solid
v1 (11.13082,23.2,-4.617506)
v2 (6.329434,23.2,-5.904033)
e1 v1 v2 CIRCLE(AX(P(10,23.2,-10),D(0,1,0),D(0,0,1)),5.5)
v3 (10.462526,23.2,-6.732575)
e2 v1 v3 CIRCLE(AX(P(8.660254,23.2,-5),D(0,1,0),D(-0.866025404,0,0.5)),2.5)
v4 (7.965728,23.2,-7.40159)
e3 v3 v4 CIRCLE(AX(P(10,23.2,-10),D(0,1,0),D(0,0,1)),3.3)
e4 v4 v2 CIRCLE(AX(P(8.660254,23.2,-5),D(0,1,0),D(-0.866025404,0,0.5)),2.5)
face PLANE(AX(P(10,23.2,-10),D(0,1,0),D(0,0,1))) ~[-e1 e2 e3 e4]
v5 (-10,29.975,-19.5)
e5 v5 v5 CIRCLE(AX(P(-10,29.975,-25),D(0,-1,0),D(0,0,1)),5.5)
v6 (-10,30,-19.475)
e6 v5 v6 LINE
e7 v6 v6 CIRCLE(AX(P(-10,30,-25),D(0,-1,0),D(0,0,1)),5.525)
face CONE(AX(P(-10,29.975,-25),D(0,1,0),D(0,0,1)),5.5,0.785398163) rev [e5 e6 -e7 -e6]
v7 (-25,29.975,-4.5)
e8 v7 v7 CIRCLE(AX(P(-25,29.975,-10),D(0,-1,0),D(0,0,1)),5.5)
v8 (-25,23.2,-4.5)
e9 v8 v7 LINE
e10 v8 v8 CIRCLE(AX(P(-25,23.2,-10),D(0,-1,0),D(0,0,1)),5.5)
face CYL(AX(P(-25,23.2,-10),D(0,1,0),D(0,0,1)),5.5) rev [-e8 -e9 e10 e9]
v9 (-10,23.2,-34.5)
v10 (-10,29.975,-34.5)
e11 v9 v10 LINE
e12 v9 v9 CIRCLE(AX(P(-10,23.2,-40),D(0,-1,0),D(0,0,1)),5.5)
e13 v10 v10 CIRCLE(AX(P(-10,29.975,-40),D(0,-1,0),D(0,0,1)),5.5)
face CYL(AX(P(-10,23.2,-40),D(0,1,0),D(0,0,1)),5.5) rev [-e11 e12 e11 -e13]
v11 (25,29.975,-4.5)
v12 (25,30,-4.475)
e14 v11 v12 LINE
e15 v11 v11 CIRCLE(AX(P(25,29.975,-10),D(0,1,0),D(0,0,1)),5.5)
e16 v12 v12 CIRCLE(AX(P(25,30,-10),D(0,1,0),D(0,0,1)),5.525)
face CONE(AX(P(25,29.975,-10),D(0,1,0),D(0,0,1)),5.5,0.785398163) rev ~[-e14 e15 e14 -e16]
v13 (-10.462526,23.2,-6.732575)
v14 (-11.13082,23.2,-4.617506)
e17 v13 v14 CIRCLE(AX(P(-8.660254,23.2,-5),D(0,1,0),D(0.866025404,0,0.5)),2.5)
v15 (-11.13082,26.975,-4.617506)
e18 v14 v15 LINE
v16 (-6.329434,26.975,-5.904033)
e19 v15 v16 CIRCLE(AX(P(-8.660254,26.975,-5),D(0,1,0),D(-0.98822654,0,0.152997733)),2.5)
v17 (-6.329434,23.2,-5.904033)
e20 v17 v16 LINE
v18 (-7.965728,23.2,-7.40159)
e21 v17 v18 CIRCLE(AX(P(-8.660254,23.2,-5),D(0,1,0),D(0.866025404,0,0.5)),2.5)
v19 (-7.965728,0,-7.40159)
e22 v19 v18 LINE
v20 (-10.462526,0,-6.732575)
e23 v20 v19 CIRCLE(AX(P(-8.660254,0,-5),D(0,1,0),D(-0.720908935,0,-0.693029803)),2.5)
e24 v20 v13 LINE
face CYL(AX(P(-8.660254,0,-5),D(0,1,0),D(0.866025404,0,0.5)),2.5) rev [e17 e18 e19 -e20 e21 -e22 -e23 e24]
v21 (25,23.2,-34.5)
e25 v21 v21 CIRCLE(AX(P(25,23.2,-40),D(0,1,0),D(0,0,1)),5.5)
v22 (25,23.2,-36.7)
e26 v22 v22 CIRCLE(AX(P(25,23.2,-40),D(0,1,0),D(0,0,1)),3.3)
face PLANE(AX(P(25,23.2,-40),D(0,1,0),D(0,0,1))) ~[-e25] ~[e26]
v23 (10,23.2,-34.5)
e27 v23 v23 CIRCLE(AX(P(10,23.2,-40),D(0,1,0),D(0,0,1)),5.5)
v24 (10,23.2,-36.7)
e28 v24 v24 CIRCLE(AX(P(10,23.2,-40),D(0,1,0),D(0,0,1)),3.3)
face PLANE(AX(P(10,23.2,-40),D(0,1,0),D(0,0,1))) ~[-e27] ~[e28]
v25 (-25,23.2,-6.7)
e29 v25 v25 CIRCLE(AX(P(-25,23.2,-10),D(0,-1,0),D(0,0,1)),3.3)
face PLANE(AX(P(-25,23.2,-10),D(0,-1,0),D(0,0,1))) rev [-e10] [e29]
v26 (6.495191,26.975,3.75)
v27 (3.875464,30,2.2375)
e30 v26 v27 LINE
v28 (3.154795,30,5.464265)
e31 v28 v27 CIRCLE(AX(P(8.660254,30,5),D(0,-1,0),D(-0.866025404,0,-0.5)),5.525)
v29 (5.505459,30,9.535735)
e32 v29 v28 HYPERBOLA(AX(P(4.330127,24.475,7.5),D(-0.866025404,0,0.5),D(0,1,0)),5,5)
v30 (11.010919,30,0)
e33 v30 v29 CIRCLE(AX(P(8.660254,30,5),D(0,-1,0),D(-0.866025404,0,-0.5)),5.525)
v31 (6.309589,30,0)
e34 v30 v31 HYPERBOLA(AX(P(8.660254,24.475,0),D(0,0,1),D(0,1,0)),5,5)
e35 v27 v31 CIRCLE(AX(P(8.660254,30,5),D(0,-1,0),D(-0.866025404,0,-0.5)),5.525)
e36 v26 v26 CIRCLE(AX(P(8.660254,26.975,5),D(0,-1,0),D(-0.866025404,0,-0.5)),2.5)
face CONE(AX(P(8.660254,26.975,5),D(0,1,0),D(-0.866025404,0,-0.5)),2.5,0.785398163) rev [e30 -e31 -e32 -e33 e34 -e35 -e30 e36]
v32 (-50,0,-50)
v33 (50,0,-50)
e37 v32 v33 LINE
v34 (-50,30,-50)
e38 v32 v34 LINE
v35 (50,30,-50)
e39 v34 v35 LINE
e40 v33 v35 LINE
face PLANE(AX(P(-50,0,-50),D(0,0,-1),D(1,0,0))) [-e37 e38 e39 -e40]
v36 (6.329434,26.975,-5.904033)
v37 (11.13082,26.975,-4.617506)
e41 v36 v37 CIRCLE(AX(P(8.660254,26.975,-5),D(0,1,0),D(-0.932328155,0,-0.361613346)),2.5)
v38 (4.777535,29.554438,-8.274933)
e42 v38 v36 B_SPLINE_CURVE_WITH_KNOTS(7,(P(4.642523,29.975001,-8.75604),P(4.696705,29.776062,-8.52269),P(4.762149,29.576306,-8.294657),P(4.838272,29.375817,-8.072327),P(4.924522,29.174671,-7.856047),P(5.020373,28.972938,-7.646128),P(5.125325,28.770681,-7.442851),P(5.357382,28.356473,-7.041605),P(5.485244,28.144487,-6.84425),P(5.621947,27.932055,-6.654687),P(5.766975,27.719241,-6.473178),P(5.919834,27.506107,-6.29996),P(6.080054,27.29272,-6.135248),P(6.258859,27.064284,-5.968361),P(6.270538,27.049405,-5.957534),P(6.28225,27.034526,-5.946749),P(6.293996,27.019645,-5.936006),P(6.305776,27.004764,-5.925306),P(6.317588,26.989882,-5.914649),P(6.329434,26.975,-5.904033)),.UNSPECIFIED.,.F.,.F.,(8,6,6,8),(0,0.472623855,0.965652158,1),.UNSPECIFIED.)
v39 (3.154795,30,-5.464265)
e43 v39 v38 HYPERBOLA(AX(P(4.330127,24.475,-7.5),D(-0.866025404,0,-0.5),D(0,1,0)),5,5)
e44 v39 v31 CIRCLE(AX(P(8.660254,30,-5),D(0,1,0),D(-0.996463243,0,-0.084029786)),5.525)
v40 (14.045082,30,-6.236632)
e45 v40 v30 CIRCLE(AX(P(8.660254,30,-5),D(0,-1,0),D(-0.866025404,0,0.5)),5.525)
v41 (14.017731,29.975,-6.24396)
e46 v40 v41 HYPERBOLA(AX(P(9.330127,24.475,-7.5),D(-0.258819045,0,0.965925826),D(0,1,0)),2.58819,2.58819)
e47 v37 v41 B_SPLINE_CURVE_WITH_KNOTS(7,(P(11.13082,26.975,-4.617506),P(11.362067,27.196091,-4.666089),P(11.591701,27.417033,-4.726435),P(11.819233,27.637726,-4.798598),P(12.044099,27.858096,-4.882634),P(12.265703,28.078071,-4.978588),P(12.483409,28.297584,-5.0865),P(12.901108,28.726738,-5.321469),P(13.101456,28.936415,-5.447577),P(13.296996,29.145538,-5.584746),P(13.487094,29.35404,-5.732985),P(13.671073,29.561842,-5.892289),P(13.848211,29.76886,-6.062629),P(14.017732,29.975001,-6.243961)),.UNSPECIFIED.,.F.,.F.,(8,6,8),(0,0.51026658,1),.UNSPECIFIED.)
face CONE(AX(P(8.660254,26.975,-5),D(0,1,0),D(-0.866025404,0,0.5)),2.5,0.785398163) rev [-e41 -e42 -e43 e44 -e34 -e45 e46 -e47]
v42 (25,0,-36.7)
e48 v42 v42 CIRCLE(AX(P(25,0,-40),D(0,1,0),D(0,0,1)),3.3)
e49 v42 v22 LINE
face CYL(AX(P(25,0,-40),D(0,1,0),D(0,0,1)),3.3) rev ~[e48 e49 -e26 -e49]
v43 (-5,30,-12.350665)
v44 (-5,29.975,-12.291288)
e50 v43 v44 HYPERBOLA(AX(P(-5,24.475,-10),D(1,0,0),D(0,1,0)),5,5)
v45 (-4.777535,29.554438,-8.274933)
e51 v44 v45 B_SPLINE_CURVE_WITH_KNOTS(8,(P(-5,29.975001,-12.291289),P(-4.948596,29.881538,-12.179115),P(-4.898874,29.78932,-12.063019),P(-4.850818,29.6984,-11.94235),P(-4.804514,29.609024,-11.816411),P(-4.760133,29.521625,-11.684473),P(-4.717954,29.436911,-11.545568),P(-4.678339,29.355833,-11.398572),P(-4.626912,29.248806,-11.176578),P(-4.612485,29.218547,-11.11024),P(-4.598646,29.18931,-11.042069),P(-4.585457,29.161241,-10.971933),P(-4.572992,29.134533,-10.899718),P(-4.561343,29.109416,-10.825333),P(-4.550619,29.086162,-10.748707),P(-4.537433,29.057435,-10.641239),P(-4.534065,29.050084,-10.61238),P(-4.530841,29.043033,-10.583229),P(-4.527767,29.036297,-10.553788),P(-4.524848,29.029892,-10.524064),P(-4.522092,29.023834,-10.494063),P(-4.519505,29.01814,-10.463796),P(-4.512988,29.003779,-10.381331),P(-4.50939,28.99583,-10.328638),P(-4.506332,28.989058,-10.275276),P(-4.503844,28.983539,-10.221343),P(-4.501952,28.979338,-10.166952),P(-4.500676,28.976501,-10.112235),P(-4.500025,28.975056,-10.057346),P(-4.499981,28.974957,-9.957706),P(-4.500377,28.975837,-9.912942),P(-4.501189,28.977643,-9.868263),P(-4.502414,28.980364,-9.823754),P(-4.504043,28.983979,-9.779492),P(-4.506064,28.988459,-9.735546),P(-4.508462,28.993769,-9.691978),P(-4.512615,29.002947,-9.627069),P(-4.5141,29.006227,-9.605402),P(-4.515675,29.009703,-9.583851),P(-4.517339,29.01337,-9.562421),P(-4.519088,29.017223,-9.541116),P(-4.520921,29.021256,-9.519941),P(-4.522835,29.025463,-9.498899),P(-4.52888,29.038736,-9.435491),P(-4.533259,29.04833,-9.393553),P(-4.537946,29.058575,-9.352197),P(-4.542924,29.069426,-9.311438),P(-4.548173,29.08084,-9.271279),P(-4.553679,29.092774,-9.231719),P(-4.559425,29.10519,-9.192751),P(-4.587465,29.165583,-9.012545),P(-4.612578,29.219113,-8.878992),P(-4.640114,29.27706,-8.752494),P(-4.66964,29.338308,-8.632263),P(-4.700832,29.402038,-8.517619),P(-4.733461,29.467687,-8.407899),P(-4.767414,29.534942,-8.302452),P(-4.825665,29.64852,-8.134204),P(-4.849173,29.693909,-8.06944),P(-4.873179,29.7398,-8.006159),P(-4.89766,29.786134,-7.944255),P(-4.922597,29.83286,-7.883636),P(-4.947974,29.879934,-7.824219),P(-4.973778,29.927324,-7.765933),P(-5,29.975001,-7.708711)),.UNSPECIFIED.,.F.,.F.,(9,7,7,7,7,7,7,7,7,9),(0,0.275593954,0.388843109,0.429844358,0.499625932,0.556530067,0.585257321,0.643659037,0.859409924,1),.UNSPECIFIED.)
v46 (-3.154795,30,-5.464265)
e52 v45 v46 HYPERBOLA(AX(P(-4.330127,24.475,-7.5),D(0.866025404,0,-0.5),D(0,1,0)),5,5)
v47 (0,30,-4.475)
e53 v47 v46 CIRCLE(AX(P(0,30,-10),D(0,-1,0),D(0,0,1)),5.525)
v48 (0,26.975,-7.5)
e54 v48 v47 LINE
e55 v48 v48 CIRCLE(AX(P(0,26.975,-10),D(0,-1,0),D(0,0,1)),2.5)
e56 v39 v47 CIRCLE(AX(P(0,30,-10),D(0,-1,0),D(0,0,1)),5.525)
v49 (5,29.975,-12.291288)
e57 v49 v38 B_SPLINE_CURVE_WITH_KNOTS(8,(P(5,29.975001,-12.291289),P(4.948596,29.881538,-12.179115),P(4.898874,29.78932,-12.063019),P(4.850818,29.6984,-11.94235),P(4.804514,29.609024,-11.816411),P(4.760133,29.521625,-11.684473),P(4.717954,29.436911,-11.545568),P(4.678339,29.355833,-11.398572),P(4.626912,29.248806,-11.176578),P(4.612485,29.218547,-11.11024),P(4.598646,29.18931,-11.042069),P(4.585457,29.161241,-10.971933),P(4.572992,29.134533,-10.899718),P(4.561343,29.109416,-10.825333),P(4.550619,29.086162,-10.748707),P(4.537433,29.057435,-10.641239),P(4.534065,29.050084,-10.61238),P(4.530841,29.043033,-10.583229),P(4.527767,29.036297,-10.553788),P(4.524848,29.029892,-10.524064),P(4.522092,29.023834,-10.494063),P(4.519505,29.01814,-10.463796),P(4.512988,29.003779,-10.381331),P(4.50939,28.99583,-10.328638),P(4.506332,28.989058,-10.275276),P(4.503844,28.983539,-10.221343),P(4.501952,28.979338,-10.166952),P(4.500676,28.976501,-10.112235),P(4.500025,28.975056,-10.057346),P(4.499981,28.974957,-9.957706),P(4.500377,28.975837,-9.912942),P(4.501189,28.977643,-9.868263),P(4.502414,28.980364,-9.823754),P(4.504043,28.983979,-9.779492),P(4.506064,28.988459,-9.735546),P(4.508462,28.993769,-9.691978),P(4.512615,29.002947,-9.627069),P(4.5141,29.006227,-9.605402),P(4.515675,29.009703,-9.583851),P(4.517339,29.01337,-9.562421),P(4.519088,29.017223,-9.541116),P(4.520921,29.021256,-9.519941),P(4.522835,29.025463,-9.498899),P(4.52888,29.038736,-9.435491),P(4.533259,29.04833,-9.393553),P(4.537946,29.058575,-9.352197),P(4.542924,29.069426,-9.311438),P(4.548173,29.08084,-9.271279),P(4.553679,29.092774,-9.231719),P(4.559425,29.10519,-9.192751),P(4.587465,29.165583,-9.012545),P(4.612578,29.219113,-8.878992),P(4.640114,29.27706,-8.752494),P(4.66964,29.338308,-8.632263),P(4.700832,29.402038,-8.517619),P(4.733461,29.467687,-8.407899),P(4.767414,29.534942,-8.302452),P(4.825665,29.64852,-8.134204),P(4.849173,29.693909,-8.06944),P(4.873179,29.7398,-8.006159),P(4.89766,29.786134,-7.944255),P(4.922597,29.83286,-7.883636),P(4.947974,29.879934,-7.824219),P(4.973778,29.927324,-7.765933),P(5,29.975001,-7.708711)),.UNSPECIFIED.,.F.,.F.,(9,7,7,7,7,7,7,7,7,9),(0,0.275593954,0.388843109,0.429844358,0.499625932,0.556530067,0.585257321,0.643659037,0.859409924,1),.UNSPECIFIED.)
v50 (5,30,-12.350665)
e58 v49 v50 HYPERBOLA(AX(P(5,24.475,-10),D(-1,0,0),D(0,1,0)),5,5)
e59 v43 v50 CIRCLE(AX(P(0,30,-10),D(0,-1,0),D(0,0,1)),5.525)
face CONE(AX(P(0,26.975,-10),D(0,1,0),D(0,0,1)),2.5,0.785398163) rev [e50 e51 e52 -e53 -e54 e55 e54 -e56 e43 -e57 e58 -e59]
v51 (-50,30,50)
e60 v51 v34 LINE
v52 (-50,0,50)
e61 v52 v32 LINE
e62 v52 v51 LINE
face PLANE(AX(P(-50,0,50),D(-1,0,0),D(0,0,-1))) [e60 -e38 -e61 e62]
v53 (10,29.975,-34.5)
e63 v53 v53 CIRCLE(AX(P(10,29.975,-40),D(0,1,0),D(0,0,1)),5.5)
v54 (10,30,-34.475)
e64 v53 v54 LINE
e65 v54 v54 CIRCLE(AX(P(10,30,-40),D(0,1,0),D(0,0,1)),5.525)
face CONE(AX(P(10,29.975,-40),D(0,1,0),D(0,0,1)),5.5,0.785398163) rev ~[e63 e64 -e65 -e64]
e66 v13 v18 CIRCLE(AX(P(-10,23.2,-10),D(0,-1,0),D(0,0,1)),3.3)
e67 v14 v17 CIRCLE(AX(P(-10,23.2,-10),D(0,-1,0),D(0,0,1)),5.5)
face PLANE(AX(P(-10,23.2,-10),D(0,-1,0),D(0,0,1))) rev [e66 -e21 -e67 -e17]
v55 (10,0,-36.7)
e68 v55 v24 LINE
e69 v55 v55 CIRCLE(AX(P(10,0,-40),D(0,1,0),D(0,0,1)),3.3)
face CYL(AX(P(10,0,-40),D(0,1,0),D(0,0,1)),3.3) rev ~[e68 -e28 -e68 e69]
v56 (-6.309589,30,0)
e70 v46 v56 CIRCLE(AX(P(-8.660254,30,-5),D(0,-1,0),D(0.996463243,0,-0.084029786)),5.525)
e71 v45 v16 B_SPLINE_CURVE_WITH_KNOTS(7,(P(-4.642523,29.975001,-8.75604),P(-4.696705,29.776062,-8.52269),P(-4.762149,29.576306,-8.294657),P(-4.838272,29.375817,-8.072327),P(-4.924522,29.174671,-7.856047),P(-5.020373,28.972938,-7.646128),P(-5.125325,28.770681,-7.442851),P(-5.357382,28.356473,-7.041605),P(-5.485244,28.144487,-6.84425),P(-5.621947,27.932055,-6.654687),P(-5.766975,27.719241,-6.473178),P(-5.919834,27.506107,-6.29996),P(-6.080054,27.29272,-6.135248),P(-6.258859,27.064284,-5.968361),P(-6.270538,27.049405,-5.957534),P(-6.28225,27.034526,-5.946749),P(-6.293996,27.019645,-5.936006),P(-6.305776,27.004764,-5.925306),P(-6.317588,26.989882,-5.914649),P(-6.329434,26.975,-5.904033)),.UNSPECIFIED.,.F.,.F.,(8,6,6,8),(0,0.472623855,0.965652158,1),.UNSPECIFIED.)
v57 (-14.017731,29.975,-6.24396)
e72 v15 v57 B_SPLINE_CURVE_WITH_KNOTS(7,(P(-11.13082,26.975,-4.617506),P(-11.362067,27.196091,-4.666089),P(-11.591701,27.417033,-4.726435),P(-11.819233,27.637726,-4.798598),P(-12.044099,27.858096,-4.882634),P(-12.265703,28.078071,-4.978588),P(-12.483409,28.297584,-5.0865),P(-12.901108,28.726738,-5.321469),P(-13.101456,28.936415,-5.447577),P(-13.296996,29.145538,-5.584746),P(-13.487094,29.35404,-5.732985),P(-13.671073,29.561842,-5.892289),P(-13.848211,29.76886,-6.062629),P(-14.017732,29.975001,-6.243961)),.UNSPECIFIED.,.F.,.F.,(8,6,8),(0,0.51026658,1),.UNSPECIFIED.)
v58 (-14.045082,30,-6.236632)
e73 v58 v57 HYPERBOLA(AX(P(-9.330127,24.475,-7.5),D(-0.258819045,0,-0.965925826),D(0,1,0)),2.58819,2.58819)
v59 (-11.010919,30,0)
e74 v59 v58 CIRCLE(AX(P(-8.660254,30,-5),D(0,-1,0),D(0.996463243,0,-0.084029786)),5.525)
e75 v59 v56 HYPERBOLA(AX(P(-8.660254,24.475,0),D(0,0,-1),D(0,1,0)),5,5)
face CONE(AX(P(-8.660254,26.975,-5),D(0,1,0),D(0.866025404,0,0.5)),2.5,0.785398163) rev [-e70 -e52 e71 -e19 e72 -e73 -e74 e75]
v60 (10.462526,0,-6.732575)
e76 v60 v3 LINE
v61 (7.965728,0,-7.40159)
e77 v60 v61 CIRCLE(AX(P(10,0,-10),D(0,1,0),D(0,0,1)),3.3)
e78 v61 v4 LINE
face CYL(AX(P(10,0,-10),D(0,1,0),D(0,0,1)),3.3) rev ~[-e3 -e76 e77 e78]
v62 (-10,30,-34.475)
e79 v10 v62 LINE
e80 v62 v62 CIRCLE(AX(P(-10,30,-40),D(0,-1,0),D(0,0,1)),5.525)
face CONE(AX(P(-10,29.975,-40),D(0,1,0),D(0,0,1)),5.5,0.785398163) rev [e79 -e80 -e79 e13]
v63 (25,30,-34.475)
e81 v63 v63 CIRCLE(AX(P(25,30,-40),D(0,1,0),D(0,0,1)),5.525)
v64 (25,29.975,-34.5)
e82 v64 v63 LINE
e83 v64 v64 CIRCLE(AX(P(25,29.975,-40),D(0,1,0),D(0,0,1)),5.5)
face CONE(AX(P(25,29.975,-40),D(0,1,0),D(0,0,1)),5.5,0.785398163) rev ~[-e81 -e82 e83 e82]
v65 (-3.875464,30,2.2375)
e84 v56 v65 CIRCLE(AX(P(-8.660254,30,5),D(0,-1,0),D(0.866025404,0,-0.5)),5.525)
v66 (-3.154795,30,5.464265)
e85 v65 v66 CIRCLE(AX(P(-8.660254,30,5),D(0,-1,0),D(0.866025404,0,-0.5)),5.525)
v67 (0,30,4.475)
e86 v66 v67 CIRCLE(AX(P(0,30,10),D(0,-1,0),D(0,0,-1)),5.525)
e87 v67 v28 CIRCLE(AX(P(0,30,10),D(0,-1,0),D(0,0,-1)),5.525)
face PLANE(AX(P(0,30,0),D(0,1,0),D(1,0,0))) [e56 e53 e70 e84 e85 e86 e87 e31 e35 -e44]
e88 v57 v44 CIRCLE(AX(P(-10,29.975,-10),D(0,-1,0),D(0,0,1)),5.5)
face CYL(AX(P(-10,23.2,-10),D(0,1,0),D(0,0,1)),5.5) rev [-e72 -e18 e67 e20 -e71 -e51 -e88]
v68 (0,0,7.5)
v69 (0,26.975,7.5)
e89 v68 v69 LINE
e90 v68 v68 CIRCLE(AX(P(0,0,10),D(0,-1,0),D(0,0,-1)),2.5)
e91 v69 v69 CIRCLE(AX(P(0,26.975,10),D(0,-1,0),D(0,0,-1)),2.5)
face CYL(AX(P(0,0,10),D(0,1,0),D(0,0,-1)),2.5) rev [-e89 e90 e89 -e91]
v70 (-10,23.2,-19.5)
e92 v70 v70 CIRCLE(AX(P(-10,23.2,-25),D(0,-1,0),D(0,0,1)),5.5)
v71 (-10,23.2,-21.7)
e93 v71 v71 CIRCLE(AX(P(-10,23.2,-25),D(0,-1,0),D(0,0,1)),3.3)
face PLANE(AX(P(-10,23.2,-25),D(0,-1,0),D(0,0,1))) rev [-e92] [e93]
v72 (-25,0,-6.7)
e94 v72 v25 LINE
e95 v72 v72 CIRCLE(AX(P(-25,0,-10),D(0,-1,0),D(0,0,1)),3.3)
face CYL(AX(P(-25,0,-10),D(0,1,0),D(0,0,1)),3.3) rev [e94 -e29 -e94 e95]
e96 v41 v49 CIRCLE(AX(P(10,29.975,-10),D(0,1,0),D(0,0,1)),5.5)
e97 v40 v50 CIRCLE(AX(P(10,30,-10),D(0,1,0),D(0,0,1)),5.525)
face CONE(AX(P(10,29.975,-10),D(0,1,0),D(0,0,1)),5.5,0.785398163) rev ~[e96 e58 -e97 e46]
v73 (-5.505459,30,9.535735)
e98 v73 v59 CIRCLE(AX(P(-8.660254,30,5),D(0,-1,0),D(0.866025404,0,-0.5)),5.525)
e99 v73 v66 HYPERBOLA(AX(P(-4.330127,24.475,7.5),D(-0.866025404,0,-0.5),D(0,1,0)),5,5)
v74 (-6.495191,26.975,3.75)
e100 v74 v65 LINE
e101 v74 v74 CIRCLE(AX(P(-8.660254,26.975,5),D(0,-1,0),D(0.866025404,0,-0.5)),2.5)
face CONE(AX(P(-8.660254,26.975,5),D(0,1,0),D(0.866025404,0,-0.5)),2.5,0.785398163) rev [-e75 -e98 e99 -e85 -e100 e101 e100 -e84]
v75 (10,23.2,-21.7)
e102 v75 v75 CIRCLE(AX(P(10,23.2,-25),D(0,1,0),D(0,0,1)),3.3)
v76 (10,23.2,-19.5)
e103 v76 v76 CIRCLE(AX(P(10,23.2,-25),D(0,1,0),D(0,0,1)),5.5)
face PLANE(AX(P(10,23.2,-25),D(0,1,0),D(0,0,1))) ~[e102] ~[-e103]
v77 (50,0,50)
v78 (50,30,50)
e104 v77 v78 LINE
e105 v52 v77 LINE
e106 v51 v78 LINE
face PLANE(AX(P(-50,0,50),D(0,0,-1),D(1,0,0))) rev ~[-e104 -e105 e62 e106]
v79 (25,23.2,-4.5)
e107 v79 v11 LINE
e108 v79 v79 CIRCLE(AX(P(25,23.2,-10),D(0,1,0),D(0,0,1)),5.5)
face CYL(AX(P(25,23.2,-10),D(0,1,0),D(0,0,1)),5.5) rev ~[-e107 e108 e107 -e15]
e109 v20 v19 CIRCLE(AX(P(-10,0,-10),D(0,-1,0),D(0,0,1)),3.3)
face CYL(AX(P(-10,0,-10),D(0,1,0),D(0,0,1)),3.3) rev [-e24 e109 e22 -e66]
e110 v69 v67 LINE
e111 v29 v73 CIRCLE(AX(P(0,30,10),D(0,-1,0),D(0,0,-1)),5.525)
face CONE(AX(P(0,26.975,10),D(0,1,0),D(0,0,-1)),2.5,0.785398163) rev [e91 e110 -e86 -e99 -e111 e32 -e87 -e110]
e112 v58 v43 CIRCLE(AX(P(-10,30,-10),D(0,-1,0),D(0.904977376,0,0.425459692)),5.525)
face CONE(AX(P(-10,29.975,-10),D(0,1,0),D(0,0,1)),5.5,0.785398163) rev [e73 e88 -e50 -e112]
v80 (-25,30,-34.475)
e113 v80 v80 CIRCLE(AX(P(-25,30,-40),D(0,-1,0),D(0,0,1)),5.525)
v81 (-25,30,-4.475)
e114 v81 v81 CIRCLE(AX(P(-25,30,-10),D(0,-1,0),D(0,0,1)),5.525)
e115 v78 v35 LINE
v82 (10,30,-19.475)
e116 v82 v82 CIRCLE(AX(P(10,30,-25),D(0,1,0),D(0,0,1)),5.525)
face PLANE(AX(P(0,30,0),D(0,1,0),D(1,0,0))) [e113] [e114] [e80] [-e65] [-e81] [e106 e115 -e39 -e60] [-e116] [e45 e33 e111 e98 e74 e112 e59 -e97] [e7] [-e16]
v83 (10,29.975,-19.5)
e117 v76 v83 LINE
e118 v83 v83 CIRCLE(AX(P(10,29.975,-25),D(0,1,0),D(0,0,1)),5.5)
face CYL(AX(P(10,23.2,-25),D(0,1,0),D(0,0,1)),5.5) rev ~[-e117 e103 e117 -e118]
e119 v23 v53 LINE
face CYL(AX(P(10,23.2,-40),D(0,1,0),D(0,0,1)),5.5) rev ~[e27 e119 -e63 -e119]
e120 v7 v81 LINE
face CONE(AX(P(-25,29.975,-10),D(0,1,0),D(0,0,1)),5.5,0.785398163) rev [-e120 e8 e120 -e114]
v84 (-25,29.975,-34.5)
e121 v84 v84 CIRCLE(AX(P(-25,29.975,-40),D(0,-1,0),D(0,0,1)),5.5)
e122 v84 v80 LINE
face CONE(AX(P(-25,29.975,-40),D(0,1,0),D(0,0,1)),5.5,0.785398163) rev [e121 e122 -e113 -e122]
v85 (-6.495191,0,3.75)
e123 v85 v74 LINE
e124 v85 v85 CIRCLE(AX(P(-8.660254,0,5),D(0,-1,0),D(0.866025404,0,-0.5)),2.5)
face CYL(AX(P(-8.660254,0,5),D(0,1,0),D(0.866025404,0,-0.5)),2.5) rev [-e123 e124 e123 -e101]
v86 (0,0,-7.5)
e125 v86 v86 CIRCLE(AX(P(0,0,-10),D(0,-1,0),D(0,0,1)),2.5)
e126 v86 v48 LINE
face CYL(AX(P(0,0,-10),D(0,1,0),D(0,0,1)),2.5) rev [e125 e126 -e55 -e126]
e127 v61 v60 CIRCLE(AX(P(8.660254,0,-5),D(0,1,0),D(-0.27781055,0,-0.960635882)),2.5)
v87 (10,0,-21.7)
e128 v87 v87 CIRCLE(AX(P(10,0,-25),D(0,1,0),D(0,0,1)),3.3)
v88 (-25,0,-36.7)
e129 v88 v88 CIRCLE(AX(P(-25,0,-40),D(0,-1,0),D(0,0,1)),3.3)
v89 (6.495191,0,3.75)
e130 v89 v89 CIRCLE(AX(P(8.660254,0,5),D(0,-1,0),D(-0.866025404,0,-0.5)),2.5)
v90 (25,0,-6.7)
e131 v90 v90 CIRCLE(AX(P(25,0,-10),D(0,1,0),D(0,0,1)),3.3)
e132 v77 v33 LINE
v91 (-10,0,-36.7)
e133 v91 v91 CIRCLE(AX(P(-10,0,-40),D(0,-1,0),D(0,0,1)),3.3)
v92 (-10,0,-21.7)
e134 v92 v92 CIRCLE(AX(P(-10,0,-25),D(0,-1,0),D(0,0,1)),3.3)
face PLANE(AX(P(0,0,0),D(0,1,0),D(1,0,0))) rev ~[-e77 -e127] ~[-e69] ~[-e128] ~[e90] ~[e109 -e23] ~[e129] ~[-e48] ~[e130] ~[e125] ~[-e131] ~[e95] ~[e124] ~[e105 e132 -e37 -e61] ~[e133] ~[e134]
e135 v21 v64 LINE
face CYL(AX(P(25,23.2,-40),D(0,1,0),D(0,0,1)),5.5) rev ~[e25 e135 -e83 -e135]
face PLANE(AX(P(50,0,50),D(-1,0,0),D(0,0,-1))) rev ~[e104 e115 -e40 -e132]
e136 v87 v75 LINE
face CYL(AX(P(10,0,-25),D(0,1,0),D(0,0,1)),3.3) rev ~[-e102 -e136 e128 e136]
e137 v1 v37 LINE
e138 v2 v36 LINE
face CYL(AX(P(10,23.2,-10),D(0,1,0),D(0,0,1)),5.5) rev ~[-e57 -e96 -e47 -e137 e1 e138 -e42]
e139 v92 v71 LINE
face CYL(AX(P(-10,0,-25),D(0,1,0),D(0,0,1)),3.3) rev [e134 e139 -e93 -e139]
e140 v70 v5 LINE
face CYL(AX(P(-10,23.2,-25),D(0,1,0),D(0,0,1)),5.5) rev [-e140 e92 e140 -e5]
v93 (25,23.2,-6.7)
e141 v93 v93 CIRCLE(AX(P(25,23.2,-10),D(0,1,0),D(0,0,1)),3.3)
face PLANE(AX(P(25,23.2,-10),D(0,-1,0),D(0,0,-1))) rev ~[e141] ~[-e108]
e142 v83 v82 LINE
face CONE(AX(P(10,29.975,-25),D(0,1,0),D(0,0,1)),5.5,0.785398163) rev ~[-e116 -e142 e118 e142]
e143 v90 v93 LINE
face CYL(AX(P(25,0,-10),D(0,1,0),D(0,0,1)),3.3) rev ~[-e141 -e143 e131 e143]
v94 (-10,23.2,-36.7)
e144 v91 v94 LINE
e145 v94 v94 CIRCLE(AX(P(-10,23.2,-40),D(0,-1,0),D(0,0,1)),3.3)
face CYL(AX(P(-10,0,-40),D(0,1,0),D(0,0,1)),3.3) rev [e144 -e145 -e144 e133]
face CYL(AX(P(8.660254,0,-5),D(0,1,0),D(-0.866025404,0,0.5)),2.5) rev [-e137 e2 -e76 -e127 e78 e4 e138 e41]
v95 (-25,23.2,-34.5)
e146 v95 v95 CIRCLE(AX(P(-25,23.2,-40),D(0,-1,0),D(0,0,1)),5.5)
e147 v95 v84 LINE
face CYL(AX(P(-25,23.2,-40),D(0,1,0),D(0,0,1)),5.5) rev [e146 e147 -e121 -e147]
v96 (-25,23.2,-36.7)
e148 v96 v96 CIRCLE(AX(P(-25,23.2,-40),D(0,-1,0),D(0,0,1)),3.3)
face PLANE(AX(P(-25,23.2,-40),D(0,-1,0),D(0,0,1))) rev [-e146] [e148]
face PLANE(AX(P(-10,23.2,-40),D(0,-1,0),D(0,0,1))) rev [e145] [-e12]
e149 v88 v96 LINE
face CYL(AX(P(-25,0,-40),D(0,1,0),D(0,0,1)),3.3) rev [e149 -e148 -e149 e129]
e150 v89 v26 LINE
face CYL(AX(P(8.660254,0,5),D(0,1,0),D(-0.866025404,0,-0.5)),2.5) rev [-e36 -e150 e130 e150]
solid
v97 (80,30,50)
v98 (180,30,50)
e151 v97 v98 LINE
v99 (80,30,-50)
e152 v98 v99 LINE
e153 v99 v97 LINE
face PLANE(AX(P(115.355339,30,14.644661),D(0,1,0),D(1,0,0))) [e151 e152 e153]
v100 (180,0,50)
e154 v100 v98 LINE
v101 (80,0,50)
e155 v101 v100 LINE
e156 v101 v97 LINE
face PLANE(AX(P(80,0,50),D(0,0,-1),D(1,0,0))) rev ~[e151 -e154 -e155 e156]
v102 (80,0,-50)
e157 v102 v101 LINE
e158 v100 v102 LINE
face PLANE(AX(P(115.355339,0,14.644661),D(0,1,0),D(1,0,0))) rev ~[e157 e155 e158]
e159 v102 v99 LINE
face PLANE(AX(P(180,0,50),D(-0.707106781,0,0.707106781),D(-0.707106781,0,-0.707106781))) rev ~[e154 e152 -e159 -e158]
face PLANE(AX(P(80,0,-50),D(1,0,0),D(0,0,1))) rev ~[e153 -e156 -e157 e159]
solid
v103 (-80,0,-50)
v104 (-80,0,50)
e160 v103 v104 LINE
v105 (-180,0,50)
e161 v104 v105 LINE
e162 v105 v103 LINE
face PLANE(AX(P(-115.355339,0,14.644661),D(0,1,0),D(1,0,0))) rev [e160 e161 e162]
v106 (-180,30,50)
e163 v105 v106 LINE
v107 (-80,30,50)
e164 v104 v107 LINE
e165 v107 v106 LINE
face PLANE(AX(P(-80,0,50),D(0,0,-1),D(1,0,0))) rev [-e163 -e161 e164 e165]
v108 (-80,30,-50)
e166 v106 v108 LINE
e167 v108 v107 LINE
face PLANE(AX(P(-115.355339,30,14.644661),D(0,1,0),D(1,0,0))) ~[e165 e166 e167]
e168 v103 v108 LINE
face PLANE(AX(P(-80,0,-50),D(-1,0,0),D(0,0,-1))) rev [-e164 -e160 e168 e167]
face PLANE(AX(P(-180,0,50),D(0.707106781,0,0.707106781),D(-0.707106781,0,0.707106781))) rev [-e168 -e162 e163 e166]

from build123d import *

# Parameters (mm, degrees)
EXTRUDE_1_DEPTH             = 30
SKETCH_1_W                  = 100
SKETCH_1_H                  = 100
EXTRUDE_1_2_DEPTH           = 30
PATTERN_LINEAR_1_COUNT      = 2
PATTERN_LINEAR_1_PITCH      = 15
PATTERN_LINEAR_1_COUNT_DIR2 = 3
PATTERN_LINEAR_1_PITCH_DIR2 = 15
PATTERN_CIRCULAR_1_COUNT    = 6


with BuildPart() as part:
    # 草图1 → 凸台-拉伸1 (new body)
    with BuildSketch(Plane(origin=(0, 0, 0), x_dir=(1, 0, 0), z_dir=(0, 1, 0))):
        Polygon((80, -50), (180, -50), (80, 50), align=None)
    extrude(amount=EXTRUDE_1_DEPTH)


with BuildPart() as body_2:
    # 草图1 → Extrude 1 2 (new body)
    with BuildSketch(Plane(origin=(0, 0, 0), x_dir=(1, 0, 0), z_dir=(0, 1, 0))):
        Rectangle(SKETCH_1_W, SKETCH_1_H)
    extrude(amount=EXTRUDE_1_2_DEPTH)

    # 草图6 → Hole Wizard M6 _2 (revolve, cut)
    with BuildSketch(Plane(origin=(-25, 30, -10), x_dir=(0, 0, 1), z_dir=(1, 0, 0))):
        Polygon((0, 0), (0, 30), (3.3, 30), (3.3, 6.8), (5.5, 6.8), (5.5, 0.025), (5.525, 0), align=None)
    hole_wizard_m6_2 = revolve(axis=Axis((-25, 36.35, -10), (0, -1, 0)), mode=Mode.SUBTRACT)

    # 草图14 → Hole Wizard M6 _2 2 (revolve, cut)
    with BuildSketch(Plane(origin=(0, 30, -10), x_dir=(0, 0, 1), z_dir=(1, 0, 0))):
        Polygon((0, 0), (0, 30), (2.5, 30), (2.5, 3.025), (5.525, 0), align=None)
    hole_wizard_m6_2_2 = revolve(axis=Axis((0, 36.35, -10), (0, -1, 0)), mode=Mode.SUBTRACT)

    # 阵列(线性)1: Hole Wizard M6 _2 2 × 3, 1 skipped
    with Locations(*[(i * PATTERN_LINEAR_1_PITCH, 0, -j * PATTERN_LINEAR_1_PITCH_DIR2) for i in range(PATTERN_LINEAR_1_COUNT) for j in range(PATTERN_LINEAR_1_COUNT_DIR2) if (i, j) not in ((0, 0), (0, 1))]):
        add(hole_wizard_m6_2, mode=Mode.SUBTRACT)

    # 阵列(圆周)1: Hole Wizard M6 _2 2 ×6 about axis
    pattern_circular_1_axis = Axis((0, 0, 0), (0, 1, 0))
    for i in range(1, PATTERN_CIRCULAR_1_COUNT):
        add(hole_wizard_m6_2_2.rotate(pattern_circular_1_axis, i * 360 / PATTERN_CIRCULAR_1_COUNT), mode=Mode.SUBTRACT)

    # 镜向1 copy 1 sketch → 镜向1 copy 1 (revolve, cut)
    with BuildSketch(Plane(origin=(25, 30, -40), x_dir=(0, 0, 1), z_dir=(-1, 0, 0))):
        Polygon((0, 0), (0, -30), (3.3, -30), (3.3, -6.8), (5.5, -6.8), (5.5, -0.025), (5.525, 0), align=None)
    revolve(axis=Axis((25, 36.35, -40), (0, 1, 0)), mode=Mode.SUBTRACT)

    # 镜向1 copy 2 sketch → 镜向1 copy 2 (revolve, cut)
    with BuildSketch(Plane(origin=(10, 30, -10), x_dir=(0, 0, 1), z_dir=(-1, 0, 0))):
        Polygon((0, 0), (0, -30), (3.3, -30), (3.3, -6.8), (5.5, -6.8), (5.5, -0.025), (5.525, 0), align=None)
    revolve(axis=Axis((10, 36.35, -10), (0, 1, 0)), mode=Mode.SUBTRACT)

    # 镜向1 copy 3 sketch → 镜向1 copy 3 (revolve, cut)
    with BuildSketch(Plane(origin=(10, 30, -25), x_dir=(0, 0, 1), z_dir=(-1, 0, 0))):
        Polygon((0, 0), (0, -30), (3.3, -30), (3.3, -6.8), (5.5, -6.8), (5.5, -0.025), (5.525, 0), align=None)
    revolve(axis=Axis((10, 36.35, -25), (0, 1, 0)), mode=Mode.SUBTRACT)

    # 镜向1 copy 4 sketch → 镜向1 copy 4 (revolve, cut)
    with BuildSketch(Plane(origin=(10, 30, -40), x_dir=(0, 0, 1), z_dir=(-1, 0, 0))):
        Polygon((0, 0), (0, -30), (3.3, -30), (3.3, -6.8), (5.5, -6.8), (5.5, -0.025), (5.525, 0), align=None)
    revolve(axis=Axis((10, 36.35, -40), (0, 1, 0)), mode=Mode.SUBTRACT)

    # 镜向1 copy 5 sketch → 镜向1 copy 5 (revolve, cut)
    with BuildSketch(Plane(origin=(25, 30, -10), x_dir=(0, 0, 1), z_dir=(-1, 0, 0))):
        Polygon((0, 0), (0, -30), (3.3, -30), (3.3, -6.8), (5.5, -6.8), (5.5, -0.025), (5.525, 0), align=None)
    revolve(axis=Axis((25, 36.35, -10), (0, 1, 0)), mode=Mode.SUBTRACT)


with BuildPart() as body_3:
    # 镜向3: mirrored copy
    add(part.part.mirror(Plane(origin=(0, 0, 0), x_dir=(0, 0, 1), z_dir=(1, 0, 0))))


solid = Compound([part.part, body_2.part, body_3.part])
